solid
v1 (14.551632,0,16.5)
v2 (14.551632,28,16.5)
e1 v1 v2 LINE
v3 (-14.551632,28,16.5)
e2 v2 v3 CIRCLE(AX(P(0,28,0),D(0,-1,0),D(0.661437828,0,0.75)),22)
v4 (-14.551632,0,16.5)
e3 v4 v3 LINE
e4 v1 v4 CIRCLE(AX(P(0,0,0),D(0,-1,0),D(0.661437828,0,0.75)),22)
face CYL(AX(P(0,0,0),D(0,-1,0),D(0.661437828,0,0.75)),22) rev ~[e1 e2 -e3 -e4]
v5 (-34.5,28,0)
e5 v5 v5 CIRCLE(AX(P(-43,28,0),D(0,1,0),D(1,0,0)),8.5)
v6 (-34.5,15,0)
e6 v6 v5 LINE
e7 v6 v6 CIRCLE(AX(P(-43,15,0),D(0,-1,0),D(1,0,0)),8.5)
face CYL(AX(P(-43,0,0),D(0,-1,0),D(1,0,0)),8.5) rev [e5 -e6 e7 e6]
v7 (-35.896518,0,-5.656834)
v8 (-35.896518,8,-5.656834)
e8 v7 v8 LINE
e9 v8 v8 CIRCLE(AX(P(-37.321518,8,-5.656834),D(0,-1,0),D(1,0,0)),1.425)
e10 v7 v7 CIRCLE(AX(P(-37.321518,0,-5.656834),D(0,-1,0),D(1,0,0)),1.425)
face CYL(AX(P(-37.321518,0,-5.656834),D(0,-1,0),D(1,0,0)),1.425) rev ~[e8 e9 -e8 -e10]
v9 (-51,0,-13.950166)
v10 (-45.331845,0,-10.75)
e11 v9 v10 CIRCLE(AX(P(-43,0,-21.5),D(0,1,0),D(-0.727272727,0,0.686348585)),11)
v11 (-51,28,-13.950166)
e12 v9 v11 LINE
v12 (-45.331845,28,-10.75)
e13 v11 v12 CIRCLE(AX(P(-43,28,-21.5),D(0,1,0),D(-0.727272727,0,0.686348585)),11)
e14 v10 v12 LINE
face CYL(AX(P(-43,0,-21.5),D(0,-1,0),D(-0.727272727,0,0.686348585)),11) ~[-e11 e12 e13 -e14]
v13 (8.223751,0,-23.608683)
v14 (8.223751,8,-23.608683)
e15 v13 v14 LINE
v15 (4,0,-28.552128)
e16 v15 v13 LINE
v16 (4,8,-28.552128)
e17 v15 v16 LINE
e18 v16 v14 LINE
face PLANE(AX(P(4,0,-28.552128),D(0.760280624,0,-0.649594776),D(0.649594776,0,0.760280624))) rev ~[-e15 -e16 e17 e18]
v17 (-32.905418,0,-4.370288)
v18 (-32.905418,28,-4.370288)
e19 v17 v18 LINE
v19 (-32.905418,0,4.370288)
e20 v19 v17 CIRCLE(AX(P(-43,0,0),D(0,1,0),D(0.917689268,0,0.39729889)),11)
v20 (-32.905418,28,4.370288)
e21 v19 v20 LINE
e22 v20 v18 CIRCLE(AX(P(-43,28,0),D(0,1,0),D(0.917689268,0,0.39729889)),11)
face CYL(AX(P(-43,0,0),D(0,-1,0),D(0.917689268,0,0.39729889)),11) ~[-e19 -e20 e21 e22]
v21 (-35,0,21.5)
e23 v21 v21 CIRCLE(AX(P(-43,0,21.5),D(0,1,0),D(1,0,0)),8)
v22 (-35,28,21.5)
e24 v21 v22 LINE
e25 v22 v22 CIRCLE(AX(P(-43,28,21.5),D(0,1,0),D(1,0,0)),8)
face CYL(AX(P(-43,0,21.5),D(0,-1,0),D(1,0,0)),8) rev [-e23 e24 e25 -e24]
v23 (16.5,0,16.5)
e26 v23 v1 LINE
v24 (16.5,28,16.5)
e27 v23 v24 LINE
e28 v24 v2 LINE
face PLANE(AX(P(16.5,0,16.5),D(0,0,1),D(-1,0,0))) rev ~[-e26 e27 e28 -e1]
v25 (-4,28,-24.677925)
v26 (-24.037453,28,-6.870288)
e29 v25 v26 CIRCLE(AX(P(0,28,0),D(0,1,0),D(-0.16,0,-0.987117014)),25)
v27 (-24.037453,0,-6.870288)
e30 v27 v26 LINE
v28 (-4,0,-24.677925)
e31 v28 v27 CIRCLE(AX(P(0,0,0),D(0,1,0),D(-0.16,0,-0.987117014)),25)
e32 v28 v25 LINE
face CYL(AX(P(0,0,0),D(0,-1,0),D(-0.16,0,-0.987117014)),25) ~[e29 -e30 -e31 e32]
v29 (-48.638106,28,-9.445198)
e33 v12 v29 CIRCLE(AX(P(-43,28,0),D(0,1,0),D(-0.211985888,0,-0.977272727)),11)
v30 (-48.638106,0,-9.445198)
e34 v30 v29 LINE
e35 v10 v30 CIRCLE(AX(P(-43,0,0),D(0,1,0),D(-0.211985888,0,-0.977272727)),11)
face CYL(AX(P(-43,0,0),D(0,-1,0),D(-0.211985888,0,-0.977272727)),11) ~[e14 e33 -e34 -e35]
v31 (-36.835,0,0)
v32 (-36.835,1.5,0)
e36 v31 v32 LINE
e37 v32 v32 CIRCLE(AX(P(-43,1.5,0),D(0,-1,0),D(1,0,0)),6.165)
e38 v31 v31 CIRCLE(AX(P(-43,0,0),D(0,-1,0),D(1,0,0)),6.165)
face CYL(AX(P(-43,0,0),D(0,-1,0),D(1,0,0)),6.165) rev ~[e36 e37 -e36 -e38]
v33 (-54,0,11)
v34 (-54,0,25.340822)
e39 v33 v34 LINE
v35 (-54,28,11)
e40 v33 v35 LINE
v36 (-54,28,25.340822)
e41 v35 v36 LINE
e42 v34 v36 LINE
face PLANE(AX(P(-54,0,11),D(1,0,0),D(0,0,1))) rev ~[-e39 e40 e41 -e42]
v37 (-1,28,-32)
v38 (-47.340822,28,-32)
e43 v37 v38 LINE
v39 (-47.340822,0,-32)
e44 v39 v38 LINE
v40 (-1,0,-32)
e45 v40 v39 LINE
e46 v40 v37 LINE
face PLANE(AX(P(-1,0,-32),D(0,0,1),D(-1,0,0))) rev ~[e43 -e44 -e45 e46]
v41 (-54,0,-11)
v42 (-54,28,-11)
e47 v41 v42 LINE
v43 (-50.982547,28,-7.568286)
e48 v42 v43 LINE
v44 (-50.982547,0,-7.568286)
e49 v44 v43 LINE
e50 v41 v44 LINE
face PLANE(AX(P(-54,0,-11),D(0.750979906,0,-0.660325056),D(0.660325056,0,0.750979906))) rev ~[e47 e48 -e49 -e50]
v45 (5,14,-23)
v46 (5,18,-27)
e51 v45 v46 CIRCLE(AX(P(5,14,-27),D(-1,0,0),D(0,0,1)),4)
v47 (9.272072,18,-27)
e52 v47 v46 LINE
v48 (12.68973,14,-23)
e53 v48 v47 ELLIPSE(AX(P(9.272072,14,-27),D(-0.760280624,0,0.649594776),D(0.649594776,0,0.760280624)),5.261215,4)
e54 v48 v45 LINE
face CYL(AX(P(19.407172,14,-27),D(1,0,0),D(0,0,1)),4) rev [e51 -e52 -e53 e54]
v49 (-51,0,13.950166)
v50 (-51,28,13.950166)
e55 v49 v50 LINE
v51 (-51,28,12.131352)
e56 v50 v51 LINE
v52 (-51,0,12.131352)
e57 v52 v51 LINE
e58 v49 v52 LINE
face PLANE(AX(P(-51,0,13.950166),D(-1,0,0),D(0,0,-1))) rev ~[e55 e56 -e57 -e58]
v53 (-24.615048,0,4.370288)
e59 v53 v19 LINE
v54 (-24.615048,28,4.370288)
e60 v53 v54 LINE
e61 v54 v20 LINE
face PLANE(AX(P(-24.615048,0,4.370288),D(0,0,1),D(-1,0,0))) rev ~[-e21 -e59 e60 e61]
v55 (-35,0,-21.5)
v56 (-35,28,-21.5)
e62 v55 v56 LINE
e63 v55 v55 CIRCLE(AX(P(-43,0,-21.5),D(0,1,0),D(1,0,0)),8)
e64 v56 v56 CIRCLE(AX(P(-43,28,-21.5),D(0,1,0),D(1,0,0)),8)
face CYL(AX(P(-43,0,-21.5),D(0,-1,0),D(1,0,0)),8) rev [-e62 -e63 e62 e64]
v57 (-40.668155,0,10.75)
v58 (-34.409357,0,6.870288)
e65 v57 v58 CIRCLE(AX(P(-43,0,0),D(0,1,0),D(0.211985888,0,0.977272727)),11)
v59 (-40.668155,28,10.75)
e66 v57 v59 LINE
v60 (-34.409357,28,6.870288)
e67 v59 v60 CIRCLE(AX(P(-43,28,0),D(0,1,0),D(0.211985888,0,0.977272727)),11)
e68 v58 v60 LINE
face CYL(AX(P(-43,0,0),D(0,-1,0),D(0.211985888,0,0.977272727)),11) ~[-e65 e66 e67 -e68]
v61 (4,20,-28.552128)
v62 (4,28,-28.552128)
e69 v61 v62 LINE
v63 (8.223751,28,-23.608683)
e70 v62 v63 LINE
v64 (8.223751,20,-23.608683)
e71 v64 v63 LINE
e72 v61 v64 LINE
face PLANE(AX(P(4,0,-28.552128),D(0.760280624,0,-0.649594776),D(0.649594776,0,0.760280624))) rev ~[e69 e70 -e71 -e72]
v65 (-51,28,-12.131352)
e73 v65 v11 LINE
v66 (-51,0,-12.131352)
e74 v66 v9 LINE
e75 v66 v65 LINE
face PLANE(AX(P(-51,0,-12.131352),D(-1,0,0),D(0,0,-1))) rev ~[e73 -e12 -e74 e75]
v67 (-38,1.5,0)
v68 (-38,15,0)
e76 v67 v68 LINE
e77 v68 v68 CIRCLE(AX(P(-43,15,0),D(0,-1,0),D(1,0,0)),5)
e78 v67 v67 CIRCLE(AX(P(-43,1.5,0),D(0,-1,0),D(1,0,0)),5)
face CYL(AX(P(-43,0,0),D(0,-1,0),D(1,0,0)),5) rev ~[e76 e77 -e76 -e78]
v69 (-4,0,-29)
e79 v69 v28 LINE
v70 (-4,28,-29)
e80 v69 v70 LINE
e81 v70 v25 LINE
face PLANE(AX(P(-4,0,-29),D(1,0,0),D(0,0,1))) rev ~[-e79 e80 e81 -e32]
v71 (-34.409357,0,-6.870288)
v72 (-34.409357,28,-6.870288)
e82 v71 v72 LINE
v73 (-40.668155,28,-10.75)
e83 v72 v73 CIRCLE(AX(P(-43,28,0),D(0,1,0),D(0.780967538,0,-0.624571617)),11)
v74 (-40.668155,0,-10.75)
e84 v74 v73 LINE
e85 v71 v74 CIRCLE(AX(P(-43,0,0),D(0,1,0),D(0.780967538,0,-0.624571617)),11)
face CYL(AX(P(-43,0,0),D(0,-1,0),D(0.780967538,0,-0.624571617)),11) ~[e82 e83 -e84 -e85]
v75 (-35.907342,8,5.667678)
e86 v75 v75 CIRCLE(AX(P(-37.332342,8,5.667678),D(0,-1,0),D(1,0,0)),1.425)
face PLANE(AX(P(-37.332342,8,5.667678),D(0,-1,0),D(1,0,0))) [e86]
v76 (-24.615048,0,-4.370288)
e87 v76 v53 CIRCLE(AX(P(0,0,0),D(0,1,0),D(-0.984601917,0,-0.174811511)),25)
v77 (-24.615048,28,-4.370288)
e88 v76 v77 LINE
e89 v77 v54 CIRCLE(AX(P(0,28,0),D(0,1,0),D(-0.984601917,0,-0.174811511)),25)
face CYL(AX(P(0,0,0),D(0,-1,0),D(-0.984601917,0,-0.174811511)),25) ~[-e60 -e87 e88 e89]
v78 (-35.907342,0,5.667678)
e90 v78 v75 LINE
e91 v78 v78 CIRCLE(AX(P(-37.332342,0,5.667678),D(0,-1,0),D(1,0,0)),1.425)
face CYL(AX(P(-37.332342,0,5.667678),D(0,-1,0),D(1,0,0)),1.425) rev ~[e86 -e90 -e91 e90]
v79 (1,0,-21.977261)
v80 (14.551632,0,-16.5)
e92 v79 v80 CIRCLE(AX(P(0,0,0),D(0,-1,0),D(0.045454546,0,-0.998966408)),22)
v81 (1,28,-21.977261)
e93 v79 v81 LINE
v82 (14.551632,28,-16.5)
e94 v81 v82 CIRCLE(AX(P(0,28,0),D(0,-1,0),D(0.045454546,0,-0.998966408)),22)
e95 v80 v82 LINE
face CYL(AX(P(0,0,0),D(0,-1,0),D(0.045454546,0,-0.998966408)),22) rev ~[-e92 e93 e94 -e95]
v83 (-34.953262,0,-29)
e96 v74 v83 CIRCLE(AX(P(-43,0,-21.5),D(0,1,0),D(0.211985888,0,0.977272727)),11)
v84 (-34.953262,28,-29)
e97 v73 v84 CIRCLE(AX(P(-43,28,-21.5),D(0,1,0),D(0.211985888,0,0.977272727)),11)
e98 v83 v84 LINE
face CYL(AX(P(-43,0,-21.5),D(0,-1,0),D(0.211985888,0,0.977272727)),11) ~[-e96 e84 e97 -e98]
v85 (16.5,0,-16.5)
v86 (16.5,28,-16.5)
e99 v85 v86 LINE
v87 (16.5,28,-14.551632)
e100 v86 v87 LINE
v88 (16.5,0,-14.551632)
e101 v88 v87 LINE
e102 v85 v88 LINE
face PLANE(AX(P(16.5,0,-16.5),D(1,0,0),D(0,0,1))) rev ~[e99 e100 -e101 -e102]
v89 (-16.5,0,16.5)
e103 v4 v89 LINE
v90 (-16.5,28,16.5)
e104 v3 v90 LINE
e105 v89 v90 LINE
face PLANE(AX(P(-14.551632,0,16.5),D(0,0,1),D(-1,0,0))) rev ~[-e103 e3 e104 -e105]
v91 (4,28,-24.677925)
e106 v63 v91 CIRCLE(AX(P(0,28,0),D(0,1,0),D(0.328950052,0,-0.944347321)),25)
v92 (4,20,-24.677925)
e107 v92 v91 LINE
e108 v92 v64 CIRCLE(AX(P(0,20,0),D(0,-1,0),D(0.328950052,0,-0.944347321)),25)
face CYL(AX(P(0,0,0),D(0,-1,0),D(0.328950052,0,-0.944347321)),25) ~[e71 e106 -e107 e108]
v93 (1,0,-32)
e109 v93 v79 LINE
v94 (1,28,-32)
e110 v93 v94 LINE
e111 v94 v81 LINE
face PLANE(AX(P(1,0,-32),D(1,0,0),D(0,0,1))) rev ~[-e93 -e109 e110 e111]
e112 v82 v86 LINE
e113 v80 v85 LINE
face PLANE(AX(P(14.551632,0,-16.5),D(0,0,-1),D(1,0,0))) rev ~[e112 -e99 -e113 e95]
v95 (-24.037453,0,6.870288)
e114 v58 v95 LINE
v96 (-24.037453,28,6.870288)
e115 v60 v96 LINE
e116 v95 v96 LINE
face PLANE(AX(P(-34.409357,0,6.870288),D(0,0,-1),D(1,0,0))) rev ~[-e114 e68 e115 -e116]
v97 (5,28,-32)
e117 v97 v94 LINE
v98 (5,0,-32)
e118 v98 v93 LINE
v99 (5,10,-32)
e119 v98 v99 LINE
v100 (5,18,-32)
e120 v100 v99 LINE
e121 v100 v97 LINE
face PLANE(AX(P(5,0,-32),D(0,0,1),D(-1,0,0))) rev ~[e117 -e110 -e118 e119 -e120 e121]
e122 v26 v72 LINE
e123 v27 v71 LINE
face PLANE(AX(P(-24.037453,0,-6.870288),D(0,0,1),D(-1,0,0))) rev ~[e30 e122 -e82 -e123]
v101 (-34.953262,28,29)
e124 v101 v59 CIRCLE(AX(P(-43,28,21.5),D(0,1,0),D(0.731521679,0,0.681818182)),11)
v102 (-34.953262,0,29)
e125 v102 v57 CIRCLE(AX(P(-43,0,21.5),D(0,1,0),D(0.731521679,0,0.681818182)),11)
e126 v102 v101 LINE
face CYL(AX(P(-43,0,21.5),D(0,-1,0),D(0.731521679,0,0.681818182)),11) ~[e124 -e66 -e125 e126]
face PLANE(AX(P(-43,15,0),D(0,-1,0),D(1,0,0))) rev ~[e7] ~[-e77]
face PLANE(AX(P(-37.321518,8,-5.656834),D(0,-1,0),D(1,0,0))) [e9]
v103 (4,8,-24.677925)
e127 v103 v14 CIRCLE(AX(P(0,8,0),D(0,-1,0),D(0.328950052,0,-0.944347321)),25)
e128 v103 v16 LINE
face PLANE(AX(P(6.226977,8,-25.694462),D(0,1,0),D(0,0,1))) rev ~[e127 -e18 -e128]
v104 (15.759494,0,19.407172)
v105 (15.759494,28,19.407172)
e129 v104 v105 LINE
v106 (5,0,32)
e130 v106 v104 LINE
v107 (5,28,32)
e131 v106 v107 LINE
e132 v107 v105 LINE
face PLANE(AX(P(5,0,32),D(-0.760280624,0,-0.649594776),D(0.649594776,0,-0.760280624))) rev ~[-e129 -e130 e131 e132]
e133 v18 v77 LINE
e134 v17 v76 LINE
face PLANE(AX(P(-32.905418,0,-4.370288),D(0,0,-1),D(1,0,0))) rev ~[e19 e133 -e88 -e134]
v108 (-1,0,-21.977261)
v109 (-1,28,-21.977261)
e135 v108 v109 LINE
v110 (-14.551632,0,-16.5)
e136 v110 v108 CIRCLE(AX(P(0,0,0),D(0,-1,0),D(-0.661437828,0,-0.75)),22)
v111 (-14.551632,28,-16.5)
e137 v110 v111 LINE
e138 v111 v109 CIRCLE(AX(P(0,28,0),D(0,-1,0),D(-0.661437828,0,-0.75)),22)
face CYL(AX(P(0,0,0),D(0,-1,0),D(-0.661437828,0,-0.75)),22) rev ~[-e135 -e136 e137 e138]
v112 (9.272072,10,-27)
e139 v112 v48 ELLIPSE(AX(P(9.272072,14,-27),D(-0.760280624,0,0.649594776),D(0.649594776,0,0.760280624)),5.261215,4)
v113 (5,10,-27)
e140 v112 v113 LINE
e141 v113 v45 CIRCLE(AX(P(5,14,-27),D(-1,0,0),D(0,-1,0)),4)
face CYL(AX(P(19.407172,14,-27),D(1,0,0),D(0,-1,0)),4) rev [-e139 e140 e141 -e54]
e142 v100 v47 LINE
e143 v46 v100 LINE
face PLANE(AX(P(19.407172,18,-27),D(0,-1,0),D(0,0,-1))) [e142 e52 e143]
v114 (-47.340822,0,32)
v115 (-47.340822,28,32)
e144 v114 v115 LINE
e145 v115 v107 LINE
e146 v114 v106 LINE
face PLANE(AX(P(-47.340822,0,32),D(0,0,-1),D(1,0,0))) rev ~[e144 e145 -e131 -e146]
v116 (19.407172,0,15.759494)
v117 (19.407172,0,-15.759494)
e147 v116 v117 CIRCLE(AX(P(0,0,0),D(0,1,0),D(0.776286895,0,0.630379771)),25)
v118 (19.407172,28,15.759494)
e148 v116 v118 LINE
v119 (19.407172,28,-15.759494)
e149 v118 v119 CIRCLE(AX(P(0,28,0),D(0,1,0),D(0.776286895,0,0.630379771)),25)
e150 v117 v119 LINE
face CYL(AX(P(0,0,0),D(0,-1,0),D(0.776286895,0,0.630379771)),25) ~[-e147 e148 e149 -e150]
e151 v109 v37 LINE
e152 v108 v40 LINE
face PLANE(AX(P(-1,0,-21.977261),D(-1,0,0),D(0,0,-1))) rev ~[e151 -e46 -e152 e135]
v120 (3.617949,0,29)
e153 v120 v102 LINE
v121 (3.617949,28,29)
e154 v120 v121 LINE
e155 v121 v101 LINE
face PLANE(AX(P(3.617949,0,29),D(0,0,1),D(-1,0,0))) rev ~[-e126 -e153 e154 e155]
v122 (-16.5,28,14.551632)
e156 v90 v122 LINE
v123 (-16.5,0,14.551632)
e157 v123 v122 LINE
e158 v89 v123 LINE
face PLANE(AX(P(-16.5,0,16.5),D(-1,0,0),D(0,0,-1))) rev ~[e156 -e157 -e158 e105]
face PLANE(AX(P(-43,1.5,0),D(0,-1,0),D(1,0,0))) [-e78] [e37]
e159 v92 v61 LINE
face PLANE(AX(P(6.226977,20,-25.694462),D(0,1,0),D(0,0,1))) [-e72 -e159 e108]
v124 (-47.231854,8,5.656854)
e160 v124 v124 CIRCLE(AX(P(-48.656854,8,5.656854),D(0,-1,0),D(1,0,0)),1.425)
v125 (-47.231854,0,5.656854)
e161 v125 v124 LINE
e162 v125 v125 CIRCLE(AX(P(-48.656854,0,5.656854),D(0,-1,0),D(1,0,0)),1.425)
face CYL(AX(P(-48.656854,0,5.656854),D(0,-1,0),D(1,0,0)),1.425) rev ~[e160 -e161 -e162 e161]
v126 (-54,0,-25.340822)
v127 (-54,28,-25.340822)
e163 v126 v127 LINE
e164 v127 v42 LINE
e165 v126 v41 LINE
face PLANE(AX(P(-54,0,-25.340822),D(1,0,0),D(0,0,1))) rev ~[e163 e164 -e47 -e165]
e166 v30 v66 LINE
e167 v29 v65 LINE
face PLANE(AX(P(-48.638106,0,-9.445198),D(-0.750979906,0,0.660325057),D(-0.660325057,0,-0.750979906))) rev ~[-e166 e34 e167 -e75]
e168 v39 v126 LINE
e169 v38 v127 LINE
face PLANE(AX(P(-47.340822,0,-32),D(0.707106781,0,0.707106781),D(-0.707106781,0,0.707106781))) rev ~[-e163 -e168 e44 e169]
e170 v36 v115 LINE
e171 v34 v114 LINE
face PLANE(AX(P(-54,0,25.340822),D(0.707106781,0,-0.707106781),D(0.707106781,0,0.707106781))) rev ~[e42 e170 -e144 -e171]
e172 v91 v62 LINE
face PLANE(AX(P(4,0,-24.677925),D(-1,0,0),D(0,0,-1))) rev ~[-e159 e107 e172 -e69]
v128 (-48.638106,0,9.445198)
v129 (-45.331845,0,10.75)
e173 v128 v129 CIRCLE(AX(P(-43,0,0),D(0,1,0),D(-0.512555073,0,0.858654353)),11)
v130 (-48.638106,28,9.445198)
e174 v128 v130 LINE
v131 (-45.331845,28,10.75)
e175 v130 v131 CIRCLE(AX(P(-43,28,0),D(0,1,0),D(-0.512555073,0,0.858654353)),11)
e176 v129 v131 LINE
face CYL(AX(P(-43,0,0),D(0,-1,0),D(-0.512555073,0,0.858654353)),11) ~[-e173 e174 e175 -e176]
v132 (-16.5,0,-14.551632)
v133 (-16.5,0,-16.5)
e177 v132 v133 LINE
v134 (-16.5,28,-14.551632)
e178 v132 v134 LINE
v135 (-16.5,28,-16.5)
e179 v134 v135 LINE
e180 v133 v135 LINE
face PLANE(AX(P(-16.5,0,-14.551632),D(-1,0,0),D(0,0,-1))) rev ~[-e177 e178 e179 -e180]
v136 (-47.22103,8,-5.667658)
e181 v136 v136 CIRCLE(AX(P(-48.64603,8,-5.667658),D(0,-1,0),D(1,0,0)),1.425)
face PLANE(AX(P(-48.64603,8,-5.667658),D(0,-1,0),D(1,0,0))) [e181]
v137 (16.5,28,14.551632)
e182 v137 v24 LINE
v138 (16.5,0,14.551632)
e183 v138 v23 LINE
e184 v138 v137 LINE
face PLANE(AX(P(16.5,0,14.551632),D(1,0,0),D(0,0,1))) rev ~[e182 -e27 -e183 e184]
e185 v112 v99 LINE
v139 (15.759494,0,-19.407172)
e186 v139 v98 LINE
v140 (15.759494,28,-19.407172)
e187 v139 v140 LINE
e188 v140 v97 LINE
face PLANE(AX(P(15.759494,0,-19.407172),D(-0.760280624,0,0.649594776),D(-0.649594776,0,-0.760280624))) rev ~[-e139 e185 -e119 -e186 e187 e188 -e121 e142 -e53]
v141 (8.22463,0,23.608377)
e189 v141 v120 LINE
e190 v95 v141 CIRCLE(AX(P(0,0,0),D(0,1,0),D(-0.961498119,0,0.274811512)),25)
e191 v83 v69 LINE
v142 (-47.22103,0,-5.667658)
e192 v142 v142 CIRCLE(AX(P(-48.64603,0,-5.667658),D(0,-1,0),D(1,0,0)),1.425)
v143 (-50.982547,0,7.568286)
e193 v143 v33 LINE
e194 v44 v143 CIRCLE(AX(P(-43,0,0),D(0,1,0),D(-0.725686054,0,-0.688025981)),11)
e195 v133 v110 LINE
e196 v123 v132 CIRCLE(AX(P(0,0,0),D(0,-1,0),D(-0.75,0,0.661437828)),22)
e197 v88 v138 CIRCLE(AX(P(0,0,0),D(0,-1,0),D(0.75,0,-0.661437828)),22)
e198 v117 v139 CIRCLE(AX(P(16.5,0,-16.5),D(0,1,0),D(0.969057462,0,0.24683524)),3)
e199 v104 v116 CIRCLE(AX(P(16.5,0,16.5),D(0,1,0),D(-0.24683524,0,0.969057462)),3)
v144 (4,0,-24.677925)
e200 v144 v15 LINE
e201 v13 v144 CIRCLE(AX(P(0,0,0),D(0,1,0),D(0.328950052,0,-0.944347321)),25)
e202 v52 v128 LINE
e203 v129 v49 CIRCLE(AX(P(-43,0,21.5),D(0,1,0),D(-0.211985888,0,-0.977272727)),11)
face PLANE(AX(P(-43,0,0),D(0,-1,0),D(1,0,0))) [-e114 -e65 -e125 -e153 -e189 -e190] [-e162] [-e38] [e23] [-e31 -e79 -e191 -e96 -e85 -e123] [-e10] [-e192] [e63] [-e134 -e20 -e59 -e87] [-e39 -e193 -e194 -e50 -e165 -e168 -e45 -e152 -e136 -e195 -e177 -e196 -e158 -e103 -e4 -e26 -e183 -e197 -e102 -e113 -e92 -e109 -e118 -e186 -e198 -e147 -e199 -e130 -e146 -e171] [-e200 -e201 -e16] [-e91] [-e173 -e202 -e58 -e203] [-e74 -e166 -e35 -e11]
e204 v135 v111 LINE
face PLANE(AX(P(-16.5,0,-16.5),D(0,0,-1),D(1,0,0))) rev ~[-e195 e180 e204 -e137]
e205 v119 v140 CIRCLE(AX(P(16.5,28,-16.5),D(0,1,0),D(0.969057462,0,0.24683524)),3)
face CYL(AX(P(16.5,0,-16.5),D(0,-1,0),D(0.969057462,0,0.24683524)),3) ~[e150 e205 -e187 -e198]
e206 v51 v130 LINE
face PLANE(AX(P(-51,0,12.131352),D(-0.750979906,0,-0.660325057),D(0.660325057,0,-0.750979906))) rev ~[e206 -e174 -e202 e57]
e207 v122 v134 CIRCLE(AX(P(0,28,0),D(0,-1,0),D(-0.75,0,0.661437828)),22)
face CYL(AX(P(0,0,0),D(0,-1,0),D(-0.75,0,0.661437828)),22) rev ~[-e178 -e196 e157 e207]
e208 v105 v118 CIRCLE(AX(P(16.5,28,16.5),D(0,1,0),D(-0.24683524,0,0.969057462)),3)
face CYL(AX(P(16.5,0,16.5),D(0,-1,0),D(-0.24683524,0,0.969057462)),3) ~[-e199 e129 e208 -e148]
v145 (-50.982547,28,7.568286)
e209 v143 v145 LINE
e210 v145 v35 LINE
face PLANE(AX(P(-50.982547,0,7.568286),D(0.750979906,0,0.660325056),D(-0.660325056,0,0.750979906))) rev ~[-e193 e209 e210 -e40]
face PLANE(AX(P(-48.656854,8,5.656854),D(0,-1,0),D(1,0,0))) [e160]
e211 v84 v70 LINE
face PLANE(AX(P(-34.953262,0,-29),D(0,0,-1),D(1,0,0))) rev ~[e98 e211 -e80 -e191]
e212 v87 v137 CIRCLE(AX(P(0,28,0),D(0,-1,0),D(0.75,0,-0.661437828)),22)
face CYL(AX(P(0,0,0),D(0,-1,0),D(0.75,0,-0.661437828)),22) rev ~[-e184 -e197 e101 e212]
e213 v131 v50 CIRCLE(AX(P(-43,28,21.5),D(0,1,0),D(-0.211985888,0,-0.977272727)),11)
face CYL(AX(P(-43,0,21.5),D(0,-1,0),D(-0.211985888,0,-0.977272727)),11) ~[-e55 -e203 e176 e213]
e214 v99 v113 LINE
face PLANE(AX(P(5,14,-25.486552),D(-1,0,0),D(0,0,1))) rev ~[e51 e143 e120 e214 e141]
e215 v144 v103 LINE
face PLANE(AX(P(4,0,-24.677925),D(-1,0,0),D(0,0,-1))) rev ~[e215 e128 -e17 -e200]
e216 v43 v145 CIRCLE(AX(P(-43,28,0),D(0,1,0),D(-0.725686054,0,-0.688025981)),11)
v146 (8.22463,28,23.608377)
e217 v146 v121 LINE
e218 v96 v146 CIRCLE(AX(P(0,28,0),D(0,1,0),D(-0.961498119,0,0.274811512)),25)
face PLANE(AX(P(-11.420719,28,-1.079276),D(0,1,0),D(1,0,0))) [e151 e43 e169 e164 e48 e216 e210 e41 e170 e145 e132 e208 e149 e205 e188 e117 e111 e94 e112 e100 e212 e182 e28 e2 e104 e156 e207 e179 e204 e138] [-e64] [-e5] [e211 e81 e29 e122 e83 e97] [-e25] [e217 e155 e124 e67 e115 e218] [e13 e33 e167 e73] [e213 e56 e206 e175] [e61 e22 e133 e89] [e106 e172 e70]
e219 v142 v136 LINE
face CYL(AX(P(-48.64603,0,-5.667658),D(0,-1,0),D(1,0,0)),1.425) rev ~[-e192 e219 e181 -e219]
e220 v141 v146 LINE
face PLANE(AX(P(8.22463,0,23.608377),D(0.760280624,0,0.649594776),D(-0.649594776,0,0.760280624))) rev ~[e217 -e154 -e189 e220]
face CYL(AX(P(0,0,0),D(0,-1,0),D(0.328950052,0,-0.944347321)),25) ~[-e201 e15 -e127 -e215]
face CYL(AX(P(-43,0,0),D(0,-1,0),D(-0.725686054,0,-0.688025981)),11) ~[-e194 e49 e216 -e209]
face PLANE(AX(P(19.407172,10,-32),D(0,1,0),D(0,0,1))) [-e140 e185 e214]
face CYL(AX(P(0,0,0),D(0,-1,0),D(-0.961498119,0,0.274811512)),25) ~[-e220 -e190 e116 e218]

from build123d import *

# Parameters (mm, degrees)
SKETCH1_R           = 8
SKETCH1_R_2         = 8.5
BOSS_EXTRUDE1_DEPTH = 28
BOSS_EXTRUDE3_DEPTH = 12
CUT_EXTRUDE1_DEPTH  = 14.407172
SKETCH7_R           = 8.5
BOSS_EXTRUDE4_DEPTH = 15
SKETCH7_3_R         = 5
CUT_EXTRUDE2_DEPTH  = 15
SKETCH7_4_R         = 6.165
CUT_EXTRUDE3_DEPTH  = 1.5
SKETCH7_5_R         = 1.425
CUT_EXTRUDE4_DEPTH  = 8


with BuildPart() as part:
    # Sketch1 → Boss-Extrude1 (new body)
    with BuildSketch(Plane(origin=(0, 0, 0), x_dir=(1, 0, 0), z_dir=(0, 1, 0))):
        with BuildLine():
            ThreePointArc((-50.982546594, 7.568285795), (-54, 0), (-50.982546594, -7.568285795))
            Line((-50.982546594, -7.568285795), (-54, -11))
            Line((-54, -11), (-54, -25.34082208))
            Line((-54, -25.34082208), (-47.34082208, -32))
            Line((-47.34082208, -32), (5, -32))
            Line((5, -32), (15.759494281, -19.407172386))
            ThreePointArc((15.759494281, -19.407172386), (18.621320344, -18.621320344), (19.407172386, -15.759494281))
            ThreePointArc((19.407172386, -15.759494281), (25, 0), (19.407172386, 15.759494281))
            ThreePointArc((19.407172386, 15.759494281), (18.621320344, 18.621320344), (15.759494281, 19.407172386))
            Line((15.759494281, 19.407172386), (5, 32))
            Line((5, 32), (1, 32))
            Line((1, 32), (1, 21.977260976))
            ThreePointArc((1, 21.977260976), (8.243992543, 20.396974946), (14.551632211, 16.5))
            Line((14.551632211, 16.5), (16.5, 16.5))
            Line((16.5, 16.5), (16.5, 14.551632211))
            ThreePointArc((16.5, 14.551632211), (22, 0), (16.5, -14.551632211))
            Line((16.5, -14.551632211), (16.5, -16.5))
            Line((16.5, -16.5), (14.551632211, -16.5))
            ThreePointArc((14.551632211, -16.5), (0, -22), (-14.551632211, -16.5))
            Line((-14.551632211, -16.5), (-16.5, -16.5))
            Line((-16.5, -16.5), (-16.5, -14.551632211))
            ThreePointArc((-16.5, -14.551632211), (-22, 0), (-16.5, 14.551632211))
            Line((-16.5, 14.551632211), (-16.5, 16.5))
            Line((-16.5, 16.5), (-14.551632211, 16.5))
            ThreePointArc((-14.551632211, 16.5), (-8.243992543, 20.396974946), (-1, 21.977260976))
            Line((-1, 21.977260976), (-1, 32))
            Line((-1, 32), (-47.34082208, 32))
            Line((-47.34082208, 32), (-54, 25.34082208))
            Line((-54, 25.34082208), (-54, 11))
            Line((-54, 11), (-50.982546594, 7.568285795))
        make_face()
        with BuildLine():
            ThreePointArc((-48.638105805, -9.445197877), (-47.038026147, -10.232025451), (-45.331844763, -10.75))
            ThreePointArc((-45.331844763, -10.75), (-48.408051309, -11.921222362), (-51, -13.950165565))
            Line((-51, -13.950165565), (-51, -12.131352314))
            Line((-51, -12.131352314), (-48.638105805, -9.445197877))
        make_face(mode=Mode.SUBTRACT)
        with Locations((-43, -21.5)):
            Circle(SKETCH1_R, mode=Mode.SUBTRACT)
        with BuildLine():
            ThreePointArc((-34.95326153, -29), (-32.502649264, -18.212808567), (-40.668155237, -10.75))
            ThreePointArc((-40.668155237, -10.75), (-37.204464997, -9.349426401), (-34.409357086, -6.870287791))
            Line((-34.409357086, -6.870287791), (-24.037452978, -6.870287791))
            ThreePointArc((-24.037452978, -6.870287791), (-11.513133706, -22.191163833), (8.224630177, -23.60837687))
            Line((8.224630177, -23.60837687), (3.617949295, -29))
            Line((3.617949295, -29), (-34.95326153, -29))
        make_face(mode=Mode.SUBTRACT)
        with Locations((-43, 0)):
            Circle(SKETCH1_R_2, mode=Mode.SUBTRACT)
        with BuildLine():
            ThreePointArc((-45.331844763, 10.75), (-47.038026147, 10.232025451), (-48.638105805, 9.445197877))
            Line((-48.638105805, 9.445197877), (-51, 12.131352314))
            Line((-51, 12.131352314), (-51, 13.950165565))
            ThreePointArc((-51, 13.950165565), (-48.408051309, 11.921222362), (-45.331844763, 10.75))
        make_face(mode=Mode.SUBTRACT)
        with BuildLine():
            ThreePointArc((-32.905418056, -4.370287791), (-32, 0), (-32.905418056, 4.370287791))
            Line((-32.905418056, 4.370287791), (-24.615047931, 4.370287791))
            ThreePointArc((-24.615047931, 4.370287791), (-25, 0), (-24.615047931, -4.370287791))
            Line((-24.615047931, -4.370287791), (-32.905418056, -4.370287791))
        make_face(mode=Mode.SUBTRACT)
        with Locations((-43, 21.5)):
            Circle(SKETCH1_R, mode=Mode.SUBTRACT)
        with BuildLine():
            ThreePointArc((-34.409357086, 6.870287791), (-37.204464997, 9.349426401), (-40.668155237, 10.75))
            ThreePointArc((-40.668155237, 10.75), (-32.502649264, 18.212808567), (-34.95326153, 29))
            Line((-34.95326153, 29), (-4, 29))
            Line((-4, 29), (-4, 24.677925359))
            ThreePointArc((-4, 24.677925359), (-16.607308069, 18.68682206), (-24.037452978, 6.870287791))
            Line((-24.037452978, 6.870287791), (-34.409357086, 6.870287791))
        make_face(mode=Mode.SUBTRACT)
        with BuildLine():
            ThreePointArc((8.223751321, 23.608683026), (6.135213434, 24.235493725), (4, 24.677925359))
            Line((4, 24.677925359), (4, 28.552128404))
            Line((4, 28.552128404), (8.223751321, 23.608683026))
        make_face(mode=Mode.SUBTRACT)
    extrude(amount=BOSS_EXTRUDE1_DEPTH)

    # Sketch6 → Boss-Extrude3 (add)
    with BuildSketch(Plane(origin=(0, 20, 0), x_dir=(0, 0, -1), z_dir=(0, -1, 0))):
        Polygon((30.717367885, 3.963704263), (22.785433959, 3.963704263), (22.785433959, 10.604126234), align=None)
    extrude(amount=BOSS_EXTRUDE3_DEPTH)

    # Sketch3 → Cut-Extrude1 (cut)
    with BuildSketch(Plane.ZY.offset(-19.407172386)):
        with BuildLine():
            ThreePointArc((-23, 14), (-24.171572875, 16.828427125), (-27, 18))
            Line((-27, 18), (-27, 10))
            ThreePointArc((-27, 10), (-24.171572875, 11.171572875), (-23, 14))
        make_face()
        with BuildLine():
            Line((-27, 10), (-27, 18))
            ThreePointArc((-27, 18), (-31, 14), (-27, 10))
        make_face()
        with BuildLine():
            Line((-27, 18), (-32, 18))
            Line((-32, 18), (-32, 10))
            Line((-32, 10), (-27, 10))
            ThreePointArc((-27, 10), (-31, 14), (-27, 18))
        make_face()
    extrude(amount=CUT_EXTRUDE1_DEPTH, mode=Mode.SUBTRACT)

    # Sketch7 → Boss-Extrude4 (add)
    with BuildSketch(Plane.XZ):
        with Locations((-43, 0)):
            Circle(SKETCH7_R)
    extrude(amount=-BOSS_EXTRUDE4_DEPTH)

    # Sketch7<3> → Cut-Extrude2 (cut)
    with BuildSketch(Plane.XZ):
        with Locations((-43, 0)):
            Circle(SKETCH7_3_R)
    extrude(amount=-CUT_EXTRUDE2_DEPTH, mode=Mode.SUBTRACT)

    # Sketch7<4> → Cut-Extrude3 (cut)
    with BuildSketch(Plane.XZ):
        with Locations((-43, 0)):
            Circle(SKETCH7_4_R)
    extrude(amount=-CUT_EXTRUDE3_DEPTH, mode=Mode.SUBTRACT)

    # Sketch7<5> → Cut-Extrude4 (cut)
    with BuildSketch(Plane.XZ):
        with Locations((-48.64603005, -5.667657777)):
            Circle(SKETCH7_5_R)
        with Locations((-48.656854249, 5.656854249)):
            Circle(SKETCH7_5_R)
        with Locations((-37.332342223, 5.667678449)):
            Circle(SKETCH7_5_R)
        with Locations((-37.321518023, -5.656833577)):
            Circle(SKETCH7_5_R)
    extrude(amount=-CUT_EXTRUDE4_DEPTH, mode=Mode.SUBTRACT)


solid = part.part
